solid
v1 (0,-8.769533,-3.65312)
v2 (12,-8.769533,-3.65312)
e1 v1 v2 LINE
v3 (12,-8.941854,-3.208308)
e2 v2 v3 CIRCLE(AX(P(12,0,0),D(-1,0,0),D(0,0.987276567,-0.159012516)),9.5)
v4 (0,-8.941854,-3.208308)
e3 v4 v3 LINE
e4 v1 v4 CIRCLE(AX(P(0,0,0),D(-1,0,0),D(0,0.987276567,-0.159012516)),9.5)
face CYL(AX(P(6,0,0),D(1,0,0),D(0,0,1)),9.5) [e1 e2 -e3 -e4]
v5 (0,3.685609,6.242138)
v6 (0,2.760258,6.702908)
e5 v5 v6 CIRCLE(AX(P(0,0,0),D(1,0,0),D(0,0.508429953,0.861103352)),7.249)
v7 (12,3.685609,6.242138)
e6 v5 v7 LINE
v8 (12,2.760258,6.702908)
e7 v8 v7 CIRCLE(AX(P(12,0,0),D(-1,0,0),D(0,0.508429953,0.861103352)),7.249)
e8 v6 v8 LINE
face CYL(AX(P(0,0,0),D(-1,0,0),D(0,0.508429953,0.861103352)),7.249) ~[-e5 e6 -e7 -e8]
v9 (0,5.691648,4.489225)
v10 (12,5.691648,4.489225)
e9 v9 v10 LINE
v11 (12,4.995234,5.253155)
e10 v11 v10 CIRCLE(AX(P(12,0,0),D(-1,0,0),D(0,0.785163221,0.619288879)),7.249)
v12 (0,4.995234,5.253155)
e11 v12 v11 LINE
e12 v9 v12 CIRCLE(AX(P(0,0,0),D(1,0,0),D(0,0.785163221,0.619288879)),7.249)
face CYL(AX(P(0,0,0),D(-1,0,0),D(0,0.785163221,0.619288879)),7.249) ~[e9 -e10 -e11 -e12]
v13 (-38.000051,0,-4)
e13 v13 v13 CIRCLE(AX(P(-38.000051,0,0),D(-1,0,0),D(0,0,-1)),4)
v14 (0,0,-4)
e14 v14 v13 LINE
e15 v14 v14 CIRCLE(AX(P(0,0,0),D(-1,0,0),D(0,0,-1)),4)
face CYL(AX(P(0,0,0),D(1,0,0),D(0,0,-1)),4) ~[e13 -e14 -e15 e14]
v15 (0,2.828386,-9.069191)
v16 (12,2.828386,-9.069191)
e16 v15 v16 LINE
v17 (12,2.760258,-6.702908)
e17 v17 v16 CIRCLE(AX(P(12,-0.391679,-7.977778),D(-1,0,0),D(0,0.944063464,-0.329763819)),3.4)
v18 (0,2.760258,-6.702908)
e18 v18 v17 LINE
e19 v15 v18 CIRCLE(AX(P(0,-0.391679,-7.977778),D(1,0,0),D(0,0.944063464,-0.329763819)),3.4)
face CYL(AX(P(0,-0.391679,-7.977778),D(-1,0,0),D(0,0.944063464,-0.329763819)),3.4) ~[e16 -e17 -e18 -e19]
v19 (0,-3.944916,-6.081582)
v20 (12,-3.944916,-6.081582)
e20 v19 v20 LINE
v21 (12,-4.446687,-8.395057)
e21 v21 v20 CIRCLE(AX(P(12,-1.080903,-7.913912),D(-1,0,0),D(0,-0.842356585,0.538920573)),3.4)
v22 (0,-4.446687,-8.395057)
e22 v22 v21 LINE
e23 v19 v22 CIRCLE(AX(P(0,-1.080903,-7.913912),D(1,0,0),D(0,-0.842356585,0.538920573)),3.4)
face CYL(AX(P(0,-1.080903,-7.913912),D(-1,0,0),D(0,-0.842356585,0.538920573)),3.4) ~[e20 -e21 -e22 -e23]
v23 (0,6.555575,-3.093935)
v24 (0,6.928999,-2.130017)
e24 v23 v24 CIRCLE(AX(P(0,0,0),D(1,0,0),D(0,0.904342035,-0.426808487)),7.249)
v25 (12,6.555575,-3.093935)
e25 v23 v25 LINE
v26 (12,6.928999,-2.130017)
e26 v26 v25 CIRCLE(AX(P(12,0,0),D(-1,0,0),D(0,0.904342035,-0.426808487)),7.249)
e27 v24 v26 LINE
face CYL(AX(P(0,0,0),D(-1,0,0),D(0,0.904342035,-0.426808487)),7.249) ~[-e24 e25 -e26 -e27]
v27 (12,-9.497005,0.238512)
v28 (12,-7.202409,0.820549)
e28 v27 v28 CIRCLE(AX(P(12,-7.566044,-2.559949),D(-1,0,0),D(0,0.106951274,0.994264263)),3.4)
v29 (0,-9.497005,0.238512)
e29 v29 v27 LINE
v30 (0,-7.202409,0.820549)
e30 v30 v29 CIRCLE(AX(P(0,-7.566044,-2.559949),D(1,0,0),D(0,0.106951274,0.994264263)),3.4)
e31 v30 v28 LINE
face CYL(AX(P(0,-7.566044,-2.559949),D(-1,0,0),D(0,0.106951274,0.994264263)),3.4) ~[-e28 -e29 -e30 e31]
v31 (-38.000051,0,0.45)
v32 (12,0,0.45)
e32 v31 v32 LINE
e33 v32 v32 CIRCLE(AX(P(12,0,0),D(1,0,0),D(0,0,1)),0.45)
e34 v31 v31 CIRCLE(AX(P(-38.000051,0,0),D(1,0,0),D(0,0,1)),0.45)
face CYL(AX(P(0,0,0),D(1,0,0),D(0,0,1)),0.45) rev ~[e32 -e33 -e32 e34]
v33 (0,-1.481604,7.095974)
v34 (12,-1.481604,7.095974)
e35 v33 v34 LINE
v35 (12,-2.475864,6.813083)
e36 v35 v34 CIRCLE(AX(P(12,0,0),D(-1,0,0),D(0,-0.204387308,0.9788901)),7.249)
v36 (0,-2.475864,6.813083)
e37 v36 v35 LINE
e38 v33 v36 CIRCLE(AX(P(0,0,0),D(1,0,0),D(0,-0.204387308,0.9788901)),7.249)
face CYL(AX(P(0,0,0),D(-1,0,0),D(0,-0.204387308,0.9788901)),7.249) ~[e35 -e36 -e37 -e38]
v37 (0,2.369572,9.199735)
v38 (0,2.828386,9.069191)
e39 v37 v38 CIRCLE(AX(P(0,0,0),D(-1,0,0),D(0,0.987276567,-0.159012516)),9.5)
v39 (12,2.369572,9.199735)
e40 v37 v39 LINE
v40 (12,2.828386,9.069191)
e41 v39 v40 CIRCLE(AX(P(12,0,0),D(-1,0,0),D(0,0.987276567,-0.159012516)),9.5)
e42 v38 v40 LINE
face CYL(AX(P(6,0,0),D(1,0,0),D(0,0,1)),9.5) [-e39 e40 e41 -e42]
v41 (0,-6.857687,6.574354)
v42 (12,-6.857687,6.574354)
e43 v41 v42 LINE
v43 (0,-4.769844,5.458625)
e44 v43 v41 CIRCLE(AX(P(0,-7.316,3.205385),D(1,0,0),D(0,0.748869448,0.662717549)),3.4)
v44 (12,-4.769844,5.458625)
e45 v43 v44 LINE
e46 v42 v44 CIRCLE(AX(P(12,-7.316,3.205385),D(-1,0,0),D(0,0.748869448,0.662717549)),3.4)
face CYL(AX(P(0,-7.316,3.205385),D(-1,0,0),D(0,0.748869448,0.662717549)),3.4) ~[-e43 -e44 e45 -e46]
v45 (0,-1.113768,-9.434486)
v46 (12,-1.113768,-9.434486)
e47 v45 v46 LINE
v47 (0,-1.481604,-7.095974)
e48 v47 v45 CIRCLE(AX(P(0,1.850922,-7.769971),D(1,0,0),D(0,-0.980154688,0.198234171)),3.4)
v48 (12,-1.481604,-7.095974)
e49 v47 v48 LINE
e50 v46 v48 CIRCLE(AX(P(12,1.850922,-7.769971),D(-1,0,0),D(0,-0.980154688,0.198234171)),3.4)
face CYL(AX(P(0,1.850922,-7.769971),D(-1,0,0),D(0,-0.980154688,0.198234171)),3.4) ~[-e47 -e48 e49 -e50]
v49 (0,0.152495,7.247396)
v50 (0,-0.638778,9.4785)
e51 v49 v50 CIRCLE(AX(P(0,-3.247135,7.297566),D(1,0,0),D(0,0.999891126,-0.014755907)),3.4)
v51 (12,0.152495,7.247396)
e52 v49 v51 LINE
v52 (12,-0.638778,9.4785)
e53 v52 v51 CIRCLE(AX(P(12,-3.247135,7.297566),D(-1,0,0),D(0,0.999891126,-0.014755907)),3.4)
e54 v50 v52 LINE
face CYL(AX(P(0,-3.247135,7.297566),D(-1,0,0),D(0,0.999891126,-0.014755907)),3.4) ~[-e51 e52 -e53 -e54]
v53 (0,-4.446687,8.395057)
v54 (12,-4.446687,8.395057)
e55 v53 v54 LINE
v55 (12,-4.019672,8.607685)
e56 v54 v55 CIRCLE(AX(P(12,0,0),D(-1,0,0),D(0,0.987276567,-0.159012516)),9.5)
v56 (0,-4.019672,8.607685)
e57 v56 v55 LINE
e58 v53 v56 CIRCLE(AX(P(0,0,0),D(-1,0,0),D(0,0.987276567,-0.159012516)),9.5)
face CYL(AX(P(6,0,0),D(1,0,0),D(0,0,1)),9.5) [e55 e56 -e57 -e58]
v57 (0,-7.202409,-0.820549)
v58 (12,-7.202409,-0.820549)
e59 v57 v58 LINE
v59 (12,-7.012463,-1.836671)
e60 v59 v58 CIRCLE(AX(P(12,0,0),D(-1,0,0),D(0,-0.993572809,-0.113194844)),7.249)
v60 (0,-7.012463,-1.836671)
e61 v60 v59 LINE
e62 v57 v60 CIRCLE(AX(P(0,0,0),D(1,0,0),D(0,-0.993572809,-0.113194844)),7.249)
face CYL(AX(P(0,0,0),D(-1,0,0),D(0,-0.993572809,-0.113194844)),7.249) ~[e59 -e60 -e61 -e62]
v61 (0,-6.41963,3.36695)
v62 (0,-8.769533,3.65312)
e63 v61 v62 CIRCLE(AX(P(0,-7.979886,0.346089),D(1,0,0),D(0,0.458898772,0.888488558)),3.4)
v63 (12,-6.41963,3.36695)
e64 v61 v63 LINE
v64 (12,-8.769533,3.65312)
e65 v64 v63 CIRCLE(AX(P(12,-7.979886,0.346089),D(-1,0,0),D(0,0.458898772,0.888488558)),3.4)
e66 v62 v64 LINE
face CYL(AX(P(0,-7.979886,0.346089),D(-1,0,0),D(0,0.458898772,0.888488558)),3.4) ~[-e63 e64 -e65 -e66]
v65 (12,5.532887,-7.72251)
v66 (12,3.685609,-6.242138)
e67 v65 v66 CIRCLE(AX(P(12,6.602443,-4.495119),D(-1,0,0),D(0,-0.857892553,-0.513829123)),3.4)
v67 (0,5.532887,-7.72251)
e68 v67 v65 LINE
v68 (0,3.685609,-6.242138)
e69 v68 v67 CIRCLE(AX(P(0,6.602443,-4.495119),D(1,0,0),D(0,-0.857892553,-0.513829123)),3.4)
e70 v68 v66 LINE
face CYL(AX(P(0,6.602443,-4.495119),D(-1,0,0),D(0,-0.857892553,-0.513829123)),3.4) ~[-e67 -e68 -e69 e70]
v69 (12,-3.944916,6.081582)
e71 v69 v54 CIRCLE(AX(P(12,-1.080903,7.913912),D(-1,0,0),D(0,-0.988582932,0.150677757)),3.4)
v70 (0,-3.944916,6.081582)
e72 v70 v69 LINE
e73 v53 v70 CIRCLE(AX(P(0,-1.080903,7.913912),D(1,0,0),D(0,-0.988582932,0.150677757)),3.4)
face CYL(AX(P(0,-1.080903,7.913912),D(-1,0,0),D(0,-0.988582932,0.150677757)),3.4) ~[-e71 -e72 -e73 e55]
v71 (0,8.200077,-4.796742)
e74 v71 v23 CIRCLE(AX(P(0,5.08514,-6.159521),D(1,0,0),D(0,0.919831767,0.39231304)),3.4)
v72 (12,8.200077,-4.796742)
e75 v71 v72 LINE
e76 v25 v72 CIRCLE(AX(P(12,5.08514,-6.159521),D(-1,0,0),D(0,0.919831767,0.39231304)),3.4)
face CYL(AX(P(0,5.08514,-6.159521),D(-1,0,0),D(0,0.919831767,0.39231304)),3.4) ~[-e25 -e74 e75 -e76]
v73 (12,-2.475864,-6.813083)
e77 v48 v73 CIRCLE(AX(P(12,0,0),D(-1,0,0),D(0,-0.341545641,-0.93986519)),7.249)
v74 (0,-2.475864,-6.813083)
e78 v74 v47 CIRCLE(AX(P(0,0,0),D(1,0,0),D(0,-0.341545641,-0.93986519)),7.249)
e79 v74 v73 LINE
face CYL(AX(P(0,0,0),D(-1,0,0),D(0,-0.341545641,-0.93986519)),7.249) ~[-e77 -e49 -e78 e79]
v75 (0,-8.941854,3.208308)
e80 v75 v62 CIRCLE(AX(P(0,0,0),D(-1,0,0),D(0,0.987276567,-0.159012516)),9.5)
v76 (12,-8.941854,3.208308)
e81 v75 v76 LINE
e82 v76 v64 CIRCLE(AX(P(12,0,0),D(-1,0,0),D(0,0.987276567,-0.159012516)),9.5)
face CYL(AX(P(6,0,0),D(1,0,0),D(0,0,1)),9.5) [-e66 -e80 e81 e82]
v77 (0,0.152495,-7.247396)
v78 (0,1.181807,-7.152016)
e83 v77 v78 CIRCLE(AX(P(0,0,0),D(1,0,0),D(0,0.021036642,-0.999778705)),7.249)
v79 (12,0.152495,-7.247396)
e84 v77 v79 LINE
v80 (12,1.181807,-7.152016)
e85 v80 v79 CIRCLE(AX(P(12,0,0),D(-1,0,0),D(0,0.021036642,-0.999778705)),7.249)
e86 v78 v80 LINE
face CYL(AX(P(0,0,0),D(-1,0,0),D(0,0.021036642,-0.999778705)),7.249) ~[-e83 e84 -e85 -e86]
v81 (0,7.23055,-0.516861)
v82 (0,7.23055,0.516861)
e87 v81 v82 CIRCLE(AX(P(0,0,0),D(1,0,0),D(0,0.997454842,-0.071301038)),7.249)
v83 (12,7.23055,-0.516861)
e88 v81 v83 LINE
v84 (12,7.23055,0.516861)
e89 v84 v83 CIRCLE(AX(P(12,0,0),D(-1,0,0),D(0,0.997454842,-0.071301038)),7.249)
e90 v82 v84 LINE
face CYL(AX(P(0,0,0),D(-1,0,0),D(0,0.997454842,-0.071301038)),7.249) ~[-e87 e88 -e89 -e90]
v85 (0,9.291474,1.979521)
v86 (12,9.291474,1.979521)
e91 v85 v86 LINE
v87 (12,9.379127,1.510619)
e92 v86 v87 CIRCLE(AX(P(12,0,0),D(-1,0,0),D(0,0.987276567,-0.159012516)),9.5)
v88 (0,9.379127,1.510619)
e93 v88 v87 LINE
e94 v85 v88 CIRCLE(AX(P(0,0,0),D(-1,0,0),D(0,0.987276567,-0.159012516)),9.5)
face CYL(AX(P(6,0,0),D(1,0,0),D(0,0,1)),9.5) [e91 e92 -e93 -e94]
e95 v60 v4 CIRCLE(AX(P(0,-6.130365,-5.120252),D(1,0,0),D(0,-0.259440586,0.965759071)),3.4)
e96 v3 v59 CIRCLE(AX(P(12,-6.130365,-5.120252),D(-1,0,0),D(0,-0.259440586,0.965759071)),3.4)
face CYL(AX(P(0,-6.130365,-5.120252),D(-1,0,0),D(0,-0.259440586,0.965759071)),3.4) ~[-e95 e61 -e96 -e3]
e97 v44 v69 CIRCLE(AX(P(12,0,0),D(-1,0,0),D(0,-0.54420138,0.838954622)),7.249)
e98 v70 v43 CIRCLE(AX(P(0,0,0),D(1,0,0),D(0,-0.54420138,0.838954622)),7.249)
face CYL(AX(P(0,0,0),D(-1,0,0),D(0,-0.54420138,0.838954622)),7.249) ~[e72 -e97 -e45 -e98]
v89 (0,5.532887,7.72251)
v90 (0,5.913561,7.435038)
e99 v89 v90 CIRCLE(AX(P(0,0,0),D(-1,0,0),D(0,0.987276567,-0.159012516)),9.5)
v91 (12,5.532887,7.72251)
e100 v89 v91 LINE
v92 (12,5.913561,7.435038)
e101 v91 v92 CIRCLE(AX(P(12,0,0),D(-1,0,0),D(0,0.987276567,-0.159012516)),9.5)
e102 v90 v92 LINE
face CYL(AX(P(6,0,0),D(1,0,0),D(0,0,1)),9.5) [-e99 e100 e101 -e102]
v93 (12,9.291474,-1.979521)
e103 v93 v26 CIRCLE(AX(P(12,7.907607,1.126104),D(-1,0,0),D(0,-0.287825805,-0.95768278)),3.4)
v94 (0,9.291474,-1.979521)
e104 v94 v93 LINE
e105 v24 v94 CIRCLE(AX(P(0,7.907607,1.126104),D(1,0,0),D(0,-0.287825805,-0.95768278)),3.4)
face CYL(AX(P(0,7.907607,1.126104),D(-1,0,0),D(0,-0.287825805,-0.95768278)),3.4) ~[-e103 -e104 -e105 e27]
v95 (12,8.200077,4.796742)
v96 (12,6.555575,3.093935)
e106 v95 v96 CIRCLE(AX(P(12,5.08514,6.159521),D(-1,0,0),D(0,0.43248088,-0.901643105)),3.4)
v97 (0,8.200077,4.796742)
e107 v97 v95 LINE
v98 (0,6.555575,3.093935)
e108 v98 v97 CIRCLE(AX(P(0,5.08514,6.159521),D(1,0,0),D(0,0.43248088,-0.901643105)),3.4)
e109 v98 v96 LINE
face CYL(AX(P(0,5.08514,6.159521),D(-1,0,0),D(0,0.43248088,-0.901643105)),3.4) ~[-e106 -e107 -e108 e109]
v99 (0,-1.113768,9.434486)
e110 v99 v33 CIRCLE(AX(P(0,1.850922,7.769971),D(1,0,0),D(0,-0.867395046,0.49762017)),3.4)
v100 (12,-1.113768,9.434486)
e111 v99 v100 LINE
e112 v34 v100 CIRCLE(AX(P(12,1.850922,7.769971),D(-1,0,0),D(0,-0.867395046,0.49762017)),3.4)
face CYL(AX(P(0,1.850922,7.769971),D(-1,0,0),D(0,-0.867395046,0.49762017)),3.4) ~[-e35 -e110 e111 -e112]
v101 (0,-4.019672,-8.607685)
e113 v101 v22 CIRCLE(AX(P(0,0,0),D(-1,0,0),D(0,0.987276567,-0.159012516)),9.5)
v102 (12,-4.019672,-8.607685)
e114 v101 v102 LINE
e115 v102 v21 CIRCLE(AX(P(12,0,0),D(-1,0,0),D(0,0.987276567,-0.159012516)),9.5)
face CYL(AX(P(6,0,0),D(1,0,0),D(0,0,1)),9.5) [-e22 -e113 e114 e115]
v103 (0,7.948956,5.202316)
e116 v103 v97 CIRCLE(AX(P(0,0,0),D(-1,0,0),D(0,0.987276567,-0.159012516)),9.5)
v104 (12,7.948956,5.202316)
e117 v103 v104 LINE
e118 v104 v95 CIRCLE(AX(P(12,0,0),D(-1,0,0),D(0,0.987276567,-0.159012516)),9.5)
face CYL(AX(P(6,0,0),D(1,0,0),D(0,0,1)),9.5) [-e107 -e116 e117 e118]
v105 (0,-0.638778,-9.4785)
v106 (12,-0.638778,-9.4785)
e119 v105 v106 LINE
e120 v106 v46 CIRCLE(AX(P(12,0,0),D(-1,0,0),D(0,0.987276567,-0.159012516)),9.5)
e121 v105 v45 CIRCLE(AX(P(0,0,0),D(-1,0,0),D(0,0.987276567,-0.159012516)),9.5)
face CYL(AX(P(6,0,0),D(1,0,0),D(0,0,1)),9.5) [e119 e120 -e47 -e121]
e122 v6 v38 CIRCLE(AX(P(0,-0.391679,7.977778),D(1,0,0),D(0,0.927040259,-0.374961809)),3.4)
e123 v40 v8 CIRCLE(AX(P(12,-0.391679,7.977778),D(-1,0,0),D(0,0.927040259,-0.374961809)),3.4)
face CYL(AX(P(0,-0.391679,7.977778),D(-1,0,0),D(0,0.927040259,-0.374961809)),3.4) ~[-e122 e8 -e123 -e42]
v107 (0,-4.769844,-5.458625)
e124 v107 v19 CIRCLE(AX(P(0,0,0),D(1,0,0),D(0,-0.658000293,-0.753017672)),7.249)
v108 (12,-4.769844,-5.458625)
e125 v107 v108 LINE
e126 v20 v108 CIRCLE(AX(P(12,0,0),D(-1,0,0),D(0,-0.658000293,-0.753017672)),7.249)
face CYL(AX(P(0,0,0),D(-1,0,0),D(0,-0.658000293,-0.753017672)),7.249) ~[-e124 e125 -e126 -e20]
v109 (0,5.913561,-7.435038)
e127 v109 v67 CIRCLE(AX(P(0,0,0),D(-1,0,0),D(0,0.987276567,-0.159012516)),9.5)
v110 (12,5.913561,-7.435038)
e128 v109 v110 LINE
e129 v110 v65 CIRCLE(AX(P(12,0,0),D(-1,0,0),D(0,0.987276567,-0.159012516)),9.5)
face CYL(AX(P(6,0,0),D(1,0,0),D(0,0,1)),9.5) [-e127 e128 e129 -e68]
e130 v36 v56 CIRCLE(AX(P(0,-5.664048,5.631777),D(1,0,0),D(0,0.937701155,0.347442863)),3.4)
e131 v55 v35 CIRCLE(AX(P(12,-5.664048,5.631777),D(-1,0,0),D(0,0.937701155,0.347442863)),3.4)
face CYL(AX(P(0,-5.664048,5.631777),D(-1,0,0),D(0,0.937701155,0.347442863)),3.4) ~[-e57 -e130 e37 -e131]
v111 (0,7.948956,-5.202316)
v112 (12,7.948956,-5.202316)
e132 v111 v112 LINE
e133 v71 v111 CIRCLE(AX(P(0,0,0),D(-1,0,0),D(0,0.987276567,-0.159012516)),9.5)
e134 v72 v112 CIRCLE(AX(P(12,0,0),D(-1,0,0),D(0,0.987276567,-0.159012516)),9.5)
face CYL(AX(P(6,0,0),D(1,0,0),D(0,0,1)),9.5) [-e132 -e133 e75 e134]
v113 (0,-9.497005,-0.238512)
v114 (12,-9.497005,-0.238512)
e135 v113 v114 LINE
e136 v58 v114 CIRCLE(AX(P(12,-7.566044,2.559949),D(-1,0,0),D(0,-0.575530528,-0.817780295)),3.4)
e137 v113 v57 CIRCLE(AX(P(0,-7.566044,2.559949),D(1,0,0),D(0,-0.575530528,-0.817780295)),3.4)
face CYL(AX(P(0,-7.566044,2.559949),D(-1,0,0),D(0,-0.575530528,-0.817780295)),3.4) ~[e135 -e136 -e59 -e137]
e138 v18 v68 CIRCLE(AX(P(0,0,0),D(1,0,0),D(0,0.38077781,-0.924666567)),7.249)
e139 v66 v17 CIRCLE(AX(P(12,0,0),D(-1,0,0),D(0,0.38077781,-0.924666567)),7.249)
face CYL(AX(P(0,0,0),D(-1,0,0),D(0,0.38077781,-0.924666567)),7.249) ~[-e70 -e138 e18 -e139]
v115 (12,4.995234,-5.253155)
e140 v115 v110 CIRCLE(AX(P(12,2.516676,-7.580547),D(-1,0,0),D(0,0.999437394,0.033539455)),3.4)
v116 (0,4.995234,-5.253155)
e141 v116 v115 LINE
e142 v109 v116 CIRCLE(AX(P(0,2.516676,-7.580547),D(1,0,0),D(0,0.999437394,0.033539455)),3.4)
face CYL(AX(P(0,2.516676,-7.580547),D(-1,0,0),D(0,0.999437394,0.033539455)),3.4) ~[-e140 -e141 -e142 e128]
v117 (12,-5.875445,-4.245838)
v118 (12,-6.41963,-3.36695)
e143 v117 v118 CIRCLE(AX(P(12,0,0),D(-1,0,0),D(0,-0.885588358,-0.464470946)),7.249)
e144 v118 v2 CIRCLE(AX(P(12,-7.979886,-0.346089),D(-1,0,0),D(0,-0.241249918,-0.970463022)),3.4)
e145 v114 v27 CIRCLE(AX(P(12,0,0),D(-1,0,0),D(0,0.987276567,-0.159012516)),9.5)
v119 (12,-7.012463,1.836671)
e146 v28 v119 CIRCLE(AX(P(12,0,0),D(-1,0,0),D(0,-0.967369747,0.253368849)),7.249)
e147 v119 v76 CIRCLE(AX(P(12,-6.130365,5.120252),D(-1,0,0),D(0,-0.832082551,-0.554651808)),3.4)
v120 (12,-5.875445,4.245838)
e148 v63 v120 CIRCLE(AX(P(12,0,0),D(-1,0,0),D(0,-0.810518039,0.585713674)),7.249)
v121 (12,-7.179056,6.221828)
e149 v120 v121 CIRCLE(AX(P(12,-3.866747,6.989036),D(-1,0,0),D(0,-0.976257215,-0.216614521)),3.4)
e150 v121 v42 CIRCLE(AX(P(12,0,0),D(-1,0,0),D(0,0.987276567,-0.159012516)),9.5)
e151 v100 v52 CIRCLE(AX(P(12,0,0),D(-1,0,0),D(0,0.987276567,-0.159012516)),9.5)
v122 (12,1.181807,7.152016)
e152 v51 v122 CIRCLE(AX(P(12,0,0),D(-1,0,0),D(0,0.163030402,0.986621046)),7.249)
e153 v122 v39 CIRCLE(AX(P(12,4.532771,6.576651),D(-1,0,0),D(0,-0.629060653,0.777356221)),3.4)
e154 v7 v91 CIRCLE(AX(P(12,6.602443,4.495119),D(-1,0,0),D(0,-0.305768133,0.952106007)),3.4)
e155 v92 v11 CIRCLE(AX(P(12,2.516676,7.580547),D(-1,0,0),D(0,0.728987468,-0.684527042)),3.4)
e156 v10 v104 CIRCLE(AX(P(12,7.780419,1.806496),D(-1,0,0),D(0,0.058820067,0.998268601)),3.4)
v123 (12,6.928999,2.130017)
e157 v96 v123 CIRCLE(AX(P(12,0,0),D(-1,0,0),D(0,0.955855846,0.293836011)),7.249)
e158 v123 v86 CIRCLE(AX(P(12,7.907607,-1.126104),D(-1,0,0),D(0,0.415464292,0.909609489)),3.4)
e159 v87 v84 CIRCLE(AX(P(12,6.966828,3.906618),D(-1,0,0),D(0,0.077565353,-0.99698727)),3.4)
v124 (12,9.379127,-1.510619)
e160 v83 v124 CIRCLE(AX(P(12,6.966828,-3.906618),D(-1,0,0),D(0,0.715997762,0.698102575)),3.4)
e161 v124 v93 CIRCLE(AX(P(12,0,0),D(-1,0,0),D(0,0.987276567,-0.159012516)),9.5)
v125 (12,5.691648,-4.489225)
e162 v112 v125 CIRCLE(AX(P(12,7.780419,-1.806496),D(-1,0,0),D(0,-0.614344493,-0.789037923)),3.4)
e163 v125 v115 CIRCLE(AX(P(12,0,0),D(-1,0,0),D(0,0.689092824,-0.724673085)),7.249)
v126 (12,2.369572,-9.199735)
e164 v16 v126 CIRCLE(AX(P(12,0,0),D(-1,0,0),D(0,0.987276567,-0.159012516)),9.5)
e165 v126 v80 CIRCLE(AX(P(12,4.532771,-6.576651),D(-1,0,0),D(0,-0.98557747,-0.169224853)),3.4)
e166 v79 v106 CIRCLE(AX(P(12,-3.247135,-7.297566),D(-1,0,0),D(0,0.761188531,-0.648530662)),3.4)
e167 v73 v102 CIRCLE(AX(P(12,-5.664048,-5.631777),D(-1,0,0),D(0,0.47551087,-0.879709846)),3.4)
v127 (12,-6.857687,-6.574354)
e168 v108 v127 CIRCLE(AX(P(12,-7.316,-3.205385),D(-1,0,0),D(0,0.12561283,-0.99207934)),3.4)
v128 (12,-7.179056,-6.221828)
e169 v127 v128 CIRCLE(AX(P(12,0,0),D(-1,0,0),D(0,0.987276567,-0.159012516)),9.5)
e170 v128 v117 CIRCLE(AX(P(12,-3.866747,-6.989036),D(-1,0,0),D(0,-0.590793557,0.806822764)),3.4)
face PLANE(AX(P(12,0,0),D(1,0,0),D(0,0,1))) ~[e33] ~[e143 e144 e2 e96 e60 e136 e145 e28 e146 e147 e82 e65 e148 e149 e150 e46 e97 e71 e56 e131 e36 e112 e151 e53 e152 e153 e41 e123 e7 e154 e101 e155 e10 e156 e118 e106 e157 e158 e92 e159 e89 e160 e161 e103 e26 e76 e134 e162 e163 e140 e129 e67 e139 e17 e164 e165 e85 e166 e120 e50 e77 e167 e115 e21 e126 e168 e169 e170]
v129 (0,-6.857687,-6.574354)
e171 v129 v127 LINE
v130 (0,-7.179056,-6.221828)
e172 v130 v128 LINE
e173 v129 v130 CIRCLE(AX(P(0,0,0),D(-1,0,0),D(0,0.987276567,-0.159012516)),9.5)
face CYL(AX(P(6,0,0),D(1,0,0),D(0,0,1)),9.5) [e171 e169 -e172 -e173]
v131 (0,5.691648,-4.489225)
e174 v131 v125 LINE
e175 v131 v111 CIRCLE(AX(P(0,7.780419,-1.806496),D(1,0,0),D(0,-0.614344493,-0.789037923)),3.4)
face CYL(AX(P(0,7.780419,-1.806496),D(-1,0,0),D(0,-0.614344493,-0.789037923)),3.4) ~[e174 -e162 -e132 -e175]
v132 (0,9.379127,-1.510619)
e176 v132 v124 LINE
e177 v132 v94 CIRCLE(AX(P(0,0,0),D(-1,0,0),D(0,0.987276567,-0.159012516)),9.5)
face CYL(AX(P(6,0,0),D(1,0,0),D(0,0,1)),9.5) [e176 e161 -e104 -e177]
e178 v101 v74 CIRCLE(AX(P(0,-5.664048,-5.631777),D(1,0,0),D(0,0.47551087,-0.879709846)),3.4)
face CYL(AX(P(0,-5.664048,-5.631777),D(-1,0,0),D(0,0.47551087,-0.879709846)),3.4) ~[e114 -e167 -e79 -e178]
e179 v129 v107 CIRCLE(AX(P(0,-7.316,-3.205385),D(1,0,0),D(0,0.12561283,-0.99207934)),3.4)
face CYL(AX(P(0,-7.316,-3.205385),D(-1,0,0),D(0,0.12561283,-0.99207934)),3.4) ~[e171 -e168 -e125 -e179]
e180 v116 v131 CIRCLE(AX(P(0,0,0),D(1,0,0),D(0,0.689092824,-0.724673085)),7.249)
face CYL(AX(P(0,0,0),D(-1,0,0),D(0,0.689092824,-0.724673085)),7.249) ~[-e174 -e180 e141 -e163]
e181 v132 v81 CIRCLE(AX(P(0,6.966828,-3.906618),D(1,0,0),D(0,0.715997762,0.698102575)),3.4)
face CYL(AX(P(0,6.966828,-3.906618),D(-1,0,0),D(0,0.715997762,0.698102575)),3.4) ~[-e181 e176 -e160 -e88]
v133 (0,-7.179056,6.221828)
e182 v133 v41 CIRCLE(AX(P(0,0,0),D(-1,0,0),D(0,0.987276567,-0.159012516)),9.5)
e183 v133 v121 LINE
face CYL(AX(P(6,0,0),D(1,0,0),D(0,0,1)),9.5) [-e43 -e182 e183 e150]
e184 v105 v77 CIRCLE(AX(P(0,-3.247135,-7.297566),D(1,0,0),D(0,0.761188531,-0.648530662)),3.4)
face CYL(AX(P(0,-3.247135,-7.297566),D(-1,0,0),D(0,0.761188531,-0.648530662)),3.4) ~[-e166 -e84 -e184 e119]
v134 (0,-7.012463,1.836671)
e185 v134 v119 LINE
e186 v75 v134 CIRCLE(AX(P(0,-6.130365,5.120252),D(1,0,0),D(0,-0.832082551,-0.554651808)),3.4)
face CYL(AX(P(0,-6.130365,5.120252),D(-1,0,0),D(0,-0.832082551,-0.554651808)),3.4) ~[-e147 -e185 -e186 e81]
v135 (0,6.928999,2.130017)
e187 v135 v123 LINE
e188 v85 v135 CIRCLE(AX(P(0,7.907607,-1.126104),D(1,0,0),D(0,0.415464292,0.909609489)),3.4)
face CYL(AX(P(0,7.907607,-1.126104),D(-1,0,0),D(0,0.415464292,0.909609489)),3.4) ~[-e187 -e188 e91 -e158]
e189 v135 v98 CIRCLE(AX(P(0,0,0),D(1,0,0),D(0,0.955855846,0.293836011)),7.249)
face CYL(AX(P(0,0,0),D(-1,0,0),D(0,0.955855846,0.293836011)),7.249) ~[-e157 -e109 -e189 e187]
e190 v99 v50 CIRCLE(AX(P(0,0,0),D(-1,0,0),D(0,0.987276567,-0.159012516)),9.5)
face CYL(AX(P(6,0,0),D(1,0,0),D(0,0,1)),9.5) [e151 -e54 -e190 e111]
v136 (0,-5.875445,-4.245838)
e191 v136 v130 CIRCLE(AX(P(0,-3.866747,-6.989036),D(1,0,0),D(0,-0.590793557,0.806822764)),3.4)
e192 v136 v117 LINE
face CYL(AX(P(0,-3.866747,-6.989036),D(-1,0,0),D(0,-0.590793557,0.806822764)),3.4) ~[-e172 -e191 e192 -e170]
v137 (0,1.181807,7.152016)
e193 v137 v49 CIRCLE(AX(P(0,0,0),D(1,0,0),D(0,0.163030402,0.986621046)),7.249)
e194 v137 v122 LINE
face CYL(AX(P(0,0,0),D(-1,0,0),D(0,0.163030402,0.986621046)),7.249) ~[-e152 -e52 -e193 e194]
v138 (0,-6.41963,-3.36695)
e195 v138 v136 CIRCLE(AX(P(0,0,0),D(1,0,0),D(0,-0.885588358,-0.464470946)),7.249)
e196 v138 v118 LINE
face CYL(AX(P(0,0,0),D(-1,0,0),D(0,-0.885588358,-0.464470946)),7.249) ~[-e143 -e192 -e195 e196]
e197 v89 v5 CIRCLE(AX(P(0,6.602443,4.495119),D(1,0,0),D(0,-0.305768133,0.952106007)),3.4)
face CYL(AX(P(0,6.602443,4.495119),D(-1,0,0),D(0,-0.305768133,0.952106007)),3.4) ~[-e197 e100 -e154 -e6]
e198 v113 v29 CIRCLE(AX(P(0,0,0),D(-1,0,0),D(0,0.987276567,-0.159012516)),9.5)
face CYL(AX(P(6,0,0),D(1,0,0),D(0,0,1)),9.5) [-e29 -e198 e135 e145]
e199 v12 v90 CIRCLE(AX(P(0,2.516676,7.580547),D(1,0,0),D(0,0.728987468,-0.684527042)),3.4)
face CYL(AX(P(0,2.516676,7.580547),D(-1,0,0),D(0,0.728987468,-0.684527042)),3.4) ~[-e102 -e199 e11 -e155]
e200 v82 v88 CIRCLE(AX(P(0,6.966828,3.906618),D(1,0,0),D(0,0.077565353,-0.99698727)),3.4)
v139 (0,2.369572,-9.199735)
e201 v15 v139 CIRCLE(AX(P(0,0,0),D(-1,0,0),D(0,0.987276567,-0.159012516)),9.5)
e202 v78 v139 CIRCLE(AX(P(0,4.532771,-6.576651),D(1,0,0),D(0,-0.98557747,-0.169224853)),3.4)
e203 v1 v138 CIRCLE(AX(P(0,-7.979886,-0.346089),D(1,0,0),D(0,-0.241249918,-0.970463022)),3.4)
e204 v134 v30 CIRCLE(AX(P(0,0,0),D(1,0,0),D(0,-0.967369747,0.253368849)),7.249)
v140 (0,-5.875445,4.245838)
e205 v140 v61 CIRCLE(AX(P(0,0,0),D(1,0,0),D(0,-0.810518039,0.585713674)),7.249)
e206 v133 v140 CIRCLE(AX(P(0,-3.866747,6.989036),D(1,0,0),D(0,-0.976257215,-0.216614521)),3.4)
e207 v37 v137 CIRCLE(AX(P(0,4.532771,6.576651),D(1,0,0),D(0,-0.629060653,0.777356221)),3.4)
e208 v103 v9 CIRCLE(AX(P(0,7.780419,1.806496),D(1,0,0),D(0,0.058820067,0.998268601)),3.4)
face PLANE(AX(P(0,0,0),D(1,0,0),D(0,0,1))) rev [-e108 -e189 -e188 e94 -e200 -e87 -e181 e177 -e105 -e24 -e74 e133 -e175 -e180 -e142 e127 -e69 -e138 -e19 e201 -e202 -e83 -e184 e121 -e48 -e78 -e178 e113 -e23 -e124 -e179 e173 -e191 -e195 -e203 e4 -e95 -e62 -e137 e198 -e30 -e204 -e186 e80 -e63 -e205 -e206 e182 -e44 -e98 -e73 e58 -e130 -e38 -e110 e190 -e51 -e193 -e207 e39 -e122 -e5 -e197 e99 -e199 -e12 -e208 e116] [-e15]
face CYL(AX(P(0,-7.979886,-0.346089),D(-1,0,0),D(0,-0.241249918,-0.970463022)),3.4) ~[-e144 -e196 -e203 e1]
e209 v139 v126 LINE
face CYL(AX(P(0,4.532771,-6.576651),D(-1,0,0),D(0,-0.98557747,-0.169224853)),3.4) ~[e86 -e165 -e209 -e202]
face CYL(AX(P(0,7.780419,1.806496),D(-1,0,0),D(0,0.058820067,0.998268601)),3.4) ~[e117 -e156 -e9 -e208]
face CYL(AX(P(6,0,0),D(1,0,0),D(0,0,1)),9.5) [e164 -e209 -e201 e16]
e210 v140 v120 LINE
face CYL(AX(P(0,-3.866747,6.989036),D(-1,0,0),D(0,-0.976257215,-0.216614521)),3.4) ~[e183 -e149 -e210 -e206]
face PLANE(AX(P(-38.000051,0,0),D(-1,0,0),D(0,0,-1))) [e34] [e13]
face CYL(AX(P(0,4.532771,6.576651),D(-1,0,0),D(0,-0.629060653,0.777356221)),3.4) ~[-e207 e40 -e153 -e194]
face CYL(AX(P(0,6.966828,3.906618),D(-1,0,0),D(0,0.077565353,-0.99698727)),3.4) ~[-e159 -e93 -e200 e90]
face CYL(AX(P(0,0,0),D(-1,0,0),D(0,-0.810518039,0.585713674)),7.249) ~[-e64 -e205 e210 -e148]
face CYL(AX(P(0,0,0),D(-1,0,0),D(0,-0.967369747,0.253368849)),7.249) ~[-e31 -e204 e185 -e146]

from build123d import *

# Parameters (mm, degrees)
BASPROSKE_W      = 12
BASPROSKE_H      = 9.5
TOOTHCUT_DEPTH   = 19.013883535
TEETHCUTS_COUNT  = 17
TEETHCUTS_ANGLE  = 338.823529412
HUBNEAONESKE_R   = 4
HUBNEARONE_DEPTH = 38.0000508
BORSKE_R         = 0.45
BORE_DEPTH       = 50.0000508


with BuildPart() as part:
    # BasProSke → Base-Revolve (revolve)
    with BuildSketch(Plane(origin=(0, 0, 0), x_dir=(1, 0, 0), z_dir=(0, 1, 0)), mode=Mode.PRIVATE) as base_revolve_sk:
        with Locations((6, 4.75)):
            Rectangle(BASPROSKE_W, BASPROSKE_H)
    revolve(base_revolve_sk.sketch.rotate(Axis((-10, 0, 0), (1, 0, 0)), 180), axis=Axis((-10, 0, 0), (1, 0, 0)))

    # TooCutSke → ToothCut (cut, through all)
    with BuildSketch(Plane(origin=(0, 0, 0), x_dir=(0, 0, -1), z_dir=(1, 0, 0))):
        with BuildLine():
            ThreePointArc((0.516861231, 7.23055015), (0, 7.249), (-0.516861231, 7.23055015))
            ThreePointArc((-0.516861231, 7.23055015), (-0.827352654, 8.408398361), (-1.533069197, 9.401220346))
            ThreePointArc((-1.533069197, 9.401220346), (0, 9.5254), (1.533069197, 9.401220346))
            ThreePointArc((1.533069197, 9.401220346), (0.827352654, 8.408398361), (0.516861231, 7.23055015))
        make_face()
    toothcut = extrude(amount=TOOTHCUT_DEPTH, mode=Mode.SUBTRACT)

    # TeethCuts: ToothCut ×17 about axis
    teethcuts_axis = Axis((-10, 0, 0), (1, 0, 0))
    for i in range(1, TEETHCUTS_COUNT):
        add(toothcut.rotate(teethcuts_axis, i * TEETHCUTS_ANGLE / (TEETHCUTS_COUNT - 1)), mode=Mode.SUBTRACT)

    # HubNeaOneSke → HubNearOne (add)
    with BuildSketch(Plane.ZY):
        with Locations(Location((0, 0, 0), (0, 0, 180))):
            Circle(HUBNEAONESKE_R)
    extrude(amount=HUBNEARONE_DEPTH)

    # BorSke → Bore (cut, symmetric)
    with BuildSketch(Plane(origin=(0, 0, 0), x_dir=(0, 0, -1), z_dir=(1, 0, 0))):
        with Locations(Location((0, 0, 0), (0, 0, 180))):
            Circle(BORSKE_R)
    extrude(amount=BORE_DEPTH, both=True, mode=Mode.SUBTRACT)


solid = part.part
